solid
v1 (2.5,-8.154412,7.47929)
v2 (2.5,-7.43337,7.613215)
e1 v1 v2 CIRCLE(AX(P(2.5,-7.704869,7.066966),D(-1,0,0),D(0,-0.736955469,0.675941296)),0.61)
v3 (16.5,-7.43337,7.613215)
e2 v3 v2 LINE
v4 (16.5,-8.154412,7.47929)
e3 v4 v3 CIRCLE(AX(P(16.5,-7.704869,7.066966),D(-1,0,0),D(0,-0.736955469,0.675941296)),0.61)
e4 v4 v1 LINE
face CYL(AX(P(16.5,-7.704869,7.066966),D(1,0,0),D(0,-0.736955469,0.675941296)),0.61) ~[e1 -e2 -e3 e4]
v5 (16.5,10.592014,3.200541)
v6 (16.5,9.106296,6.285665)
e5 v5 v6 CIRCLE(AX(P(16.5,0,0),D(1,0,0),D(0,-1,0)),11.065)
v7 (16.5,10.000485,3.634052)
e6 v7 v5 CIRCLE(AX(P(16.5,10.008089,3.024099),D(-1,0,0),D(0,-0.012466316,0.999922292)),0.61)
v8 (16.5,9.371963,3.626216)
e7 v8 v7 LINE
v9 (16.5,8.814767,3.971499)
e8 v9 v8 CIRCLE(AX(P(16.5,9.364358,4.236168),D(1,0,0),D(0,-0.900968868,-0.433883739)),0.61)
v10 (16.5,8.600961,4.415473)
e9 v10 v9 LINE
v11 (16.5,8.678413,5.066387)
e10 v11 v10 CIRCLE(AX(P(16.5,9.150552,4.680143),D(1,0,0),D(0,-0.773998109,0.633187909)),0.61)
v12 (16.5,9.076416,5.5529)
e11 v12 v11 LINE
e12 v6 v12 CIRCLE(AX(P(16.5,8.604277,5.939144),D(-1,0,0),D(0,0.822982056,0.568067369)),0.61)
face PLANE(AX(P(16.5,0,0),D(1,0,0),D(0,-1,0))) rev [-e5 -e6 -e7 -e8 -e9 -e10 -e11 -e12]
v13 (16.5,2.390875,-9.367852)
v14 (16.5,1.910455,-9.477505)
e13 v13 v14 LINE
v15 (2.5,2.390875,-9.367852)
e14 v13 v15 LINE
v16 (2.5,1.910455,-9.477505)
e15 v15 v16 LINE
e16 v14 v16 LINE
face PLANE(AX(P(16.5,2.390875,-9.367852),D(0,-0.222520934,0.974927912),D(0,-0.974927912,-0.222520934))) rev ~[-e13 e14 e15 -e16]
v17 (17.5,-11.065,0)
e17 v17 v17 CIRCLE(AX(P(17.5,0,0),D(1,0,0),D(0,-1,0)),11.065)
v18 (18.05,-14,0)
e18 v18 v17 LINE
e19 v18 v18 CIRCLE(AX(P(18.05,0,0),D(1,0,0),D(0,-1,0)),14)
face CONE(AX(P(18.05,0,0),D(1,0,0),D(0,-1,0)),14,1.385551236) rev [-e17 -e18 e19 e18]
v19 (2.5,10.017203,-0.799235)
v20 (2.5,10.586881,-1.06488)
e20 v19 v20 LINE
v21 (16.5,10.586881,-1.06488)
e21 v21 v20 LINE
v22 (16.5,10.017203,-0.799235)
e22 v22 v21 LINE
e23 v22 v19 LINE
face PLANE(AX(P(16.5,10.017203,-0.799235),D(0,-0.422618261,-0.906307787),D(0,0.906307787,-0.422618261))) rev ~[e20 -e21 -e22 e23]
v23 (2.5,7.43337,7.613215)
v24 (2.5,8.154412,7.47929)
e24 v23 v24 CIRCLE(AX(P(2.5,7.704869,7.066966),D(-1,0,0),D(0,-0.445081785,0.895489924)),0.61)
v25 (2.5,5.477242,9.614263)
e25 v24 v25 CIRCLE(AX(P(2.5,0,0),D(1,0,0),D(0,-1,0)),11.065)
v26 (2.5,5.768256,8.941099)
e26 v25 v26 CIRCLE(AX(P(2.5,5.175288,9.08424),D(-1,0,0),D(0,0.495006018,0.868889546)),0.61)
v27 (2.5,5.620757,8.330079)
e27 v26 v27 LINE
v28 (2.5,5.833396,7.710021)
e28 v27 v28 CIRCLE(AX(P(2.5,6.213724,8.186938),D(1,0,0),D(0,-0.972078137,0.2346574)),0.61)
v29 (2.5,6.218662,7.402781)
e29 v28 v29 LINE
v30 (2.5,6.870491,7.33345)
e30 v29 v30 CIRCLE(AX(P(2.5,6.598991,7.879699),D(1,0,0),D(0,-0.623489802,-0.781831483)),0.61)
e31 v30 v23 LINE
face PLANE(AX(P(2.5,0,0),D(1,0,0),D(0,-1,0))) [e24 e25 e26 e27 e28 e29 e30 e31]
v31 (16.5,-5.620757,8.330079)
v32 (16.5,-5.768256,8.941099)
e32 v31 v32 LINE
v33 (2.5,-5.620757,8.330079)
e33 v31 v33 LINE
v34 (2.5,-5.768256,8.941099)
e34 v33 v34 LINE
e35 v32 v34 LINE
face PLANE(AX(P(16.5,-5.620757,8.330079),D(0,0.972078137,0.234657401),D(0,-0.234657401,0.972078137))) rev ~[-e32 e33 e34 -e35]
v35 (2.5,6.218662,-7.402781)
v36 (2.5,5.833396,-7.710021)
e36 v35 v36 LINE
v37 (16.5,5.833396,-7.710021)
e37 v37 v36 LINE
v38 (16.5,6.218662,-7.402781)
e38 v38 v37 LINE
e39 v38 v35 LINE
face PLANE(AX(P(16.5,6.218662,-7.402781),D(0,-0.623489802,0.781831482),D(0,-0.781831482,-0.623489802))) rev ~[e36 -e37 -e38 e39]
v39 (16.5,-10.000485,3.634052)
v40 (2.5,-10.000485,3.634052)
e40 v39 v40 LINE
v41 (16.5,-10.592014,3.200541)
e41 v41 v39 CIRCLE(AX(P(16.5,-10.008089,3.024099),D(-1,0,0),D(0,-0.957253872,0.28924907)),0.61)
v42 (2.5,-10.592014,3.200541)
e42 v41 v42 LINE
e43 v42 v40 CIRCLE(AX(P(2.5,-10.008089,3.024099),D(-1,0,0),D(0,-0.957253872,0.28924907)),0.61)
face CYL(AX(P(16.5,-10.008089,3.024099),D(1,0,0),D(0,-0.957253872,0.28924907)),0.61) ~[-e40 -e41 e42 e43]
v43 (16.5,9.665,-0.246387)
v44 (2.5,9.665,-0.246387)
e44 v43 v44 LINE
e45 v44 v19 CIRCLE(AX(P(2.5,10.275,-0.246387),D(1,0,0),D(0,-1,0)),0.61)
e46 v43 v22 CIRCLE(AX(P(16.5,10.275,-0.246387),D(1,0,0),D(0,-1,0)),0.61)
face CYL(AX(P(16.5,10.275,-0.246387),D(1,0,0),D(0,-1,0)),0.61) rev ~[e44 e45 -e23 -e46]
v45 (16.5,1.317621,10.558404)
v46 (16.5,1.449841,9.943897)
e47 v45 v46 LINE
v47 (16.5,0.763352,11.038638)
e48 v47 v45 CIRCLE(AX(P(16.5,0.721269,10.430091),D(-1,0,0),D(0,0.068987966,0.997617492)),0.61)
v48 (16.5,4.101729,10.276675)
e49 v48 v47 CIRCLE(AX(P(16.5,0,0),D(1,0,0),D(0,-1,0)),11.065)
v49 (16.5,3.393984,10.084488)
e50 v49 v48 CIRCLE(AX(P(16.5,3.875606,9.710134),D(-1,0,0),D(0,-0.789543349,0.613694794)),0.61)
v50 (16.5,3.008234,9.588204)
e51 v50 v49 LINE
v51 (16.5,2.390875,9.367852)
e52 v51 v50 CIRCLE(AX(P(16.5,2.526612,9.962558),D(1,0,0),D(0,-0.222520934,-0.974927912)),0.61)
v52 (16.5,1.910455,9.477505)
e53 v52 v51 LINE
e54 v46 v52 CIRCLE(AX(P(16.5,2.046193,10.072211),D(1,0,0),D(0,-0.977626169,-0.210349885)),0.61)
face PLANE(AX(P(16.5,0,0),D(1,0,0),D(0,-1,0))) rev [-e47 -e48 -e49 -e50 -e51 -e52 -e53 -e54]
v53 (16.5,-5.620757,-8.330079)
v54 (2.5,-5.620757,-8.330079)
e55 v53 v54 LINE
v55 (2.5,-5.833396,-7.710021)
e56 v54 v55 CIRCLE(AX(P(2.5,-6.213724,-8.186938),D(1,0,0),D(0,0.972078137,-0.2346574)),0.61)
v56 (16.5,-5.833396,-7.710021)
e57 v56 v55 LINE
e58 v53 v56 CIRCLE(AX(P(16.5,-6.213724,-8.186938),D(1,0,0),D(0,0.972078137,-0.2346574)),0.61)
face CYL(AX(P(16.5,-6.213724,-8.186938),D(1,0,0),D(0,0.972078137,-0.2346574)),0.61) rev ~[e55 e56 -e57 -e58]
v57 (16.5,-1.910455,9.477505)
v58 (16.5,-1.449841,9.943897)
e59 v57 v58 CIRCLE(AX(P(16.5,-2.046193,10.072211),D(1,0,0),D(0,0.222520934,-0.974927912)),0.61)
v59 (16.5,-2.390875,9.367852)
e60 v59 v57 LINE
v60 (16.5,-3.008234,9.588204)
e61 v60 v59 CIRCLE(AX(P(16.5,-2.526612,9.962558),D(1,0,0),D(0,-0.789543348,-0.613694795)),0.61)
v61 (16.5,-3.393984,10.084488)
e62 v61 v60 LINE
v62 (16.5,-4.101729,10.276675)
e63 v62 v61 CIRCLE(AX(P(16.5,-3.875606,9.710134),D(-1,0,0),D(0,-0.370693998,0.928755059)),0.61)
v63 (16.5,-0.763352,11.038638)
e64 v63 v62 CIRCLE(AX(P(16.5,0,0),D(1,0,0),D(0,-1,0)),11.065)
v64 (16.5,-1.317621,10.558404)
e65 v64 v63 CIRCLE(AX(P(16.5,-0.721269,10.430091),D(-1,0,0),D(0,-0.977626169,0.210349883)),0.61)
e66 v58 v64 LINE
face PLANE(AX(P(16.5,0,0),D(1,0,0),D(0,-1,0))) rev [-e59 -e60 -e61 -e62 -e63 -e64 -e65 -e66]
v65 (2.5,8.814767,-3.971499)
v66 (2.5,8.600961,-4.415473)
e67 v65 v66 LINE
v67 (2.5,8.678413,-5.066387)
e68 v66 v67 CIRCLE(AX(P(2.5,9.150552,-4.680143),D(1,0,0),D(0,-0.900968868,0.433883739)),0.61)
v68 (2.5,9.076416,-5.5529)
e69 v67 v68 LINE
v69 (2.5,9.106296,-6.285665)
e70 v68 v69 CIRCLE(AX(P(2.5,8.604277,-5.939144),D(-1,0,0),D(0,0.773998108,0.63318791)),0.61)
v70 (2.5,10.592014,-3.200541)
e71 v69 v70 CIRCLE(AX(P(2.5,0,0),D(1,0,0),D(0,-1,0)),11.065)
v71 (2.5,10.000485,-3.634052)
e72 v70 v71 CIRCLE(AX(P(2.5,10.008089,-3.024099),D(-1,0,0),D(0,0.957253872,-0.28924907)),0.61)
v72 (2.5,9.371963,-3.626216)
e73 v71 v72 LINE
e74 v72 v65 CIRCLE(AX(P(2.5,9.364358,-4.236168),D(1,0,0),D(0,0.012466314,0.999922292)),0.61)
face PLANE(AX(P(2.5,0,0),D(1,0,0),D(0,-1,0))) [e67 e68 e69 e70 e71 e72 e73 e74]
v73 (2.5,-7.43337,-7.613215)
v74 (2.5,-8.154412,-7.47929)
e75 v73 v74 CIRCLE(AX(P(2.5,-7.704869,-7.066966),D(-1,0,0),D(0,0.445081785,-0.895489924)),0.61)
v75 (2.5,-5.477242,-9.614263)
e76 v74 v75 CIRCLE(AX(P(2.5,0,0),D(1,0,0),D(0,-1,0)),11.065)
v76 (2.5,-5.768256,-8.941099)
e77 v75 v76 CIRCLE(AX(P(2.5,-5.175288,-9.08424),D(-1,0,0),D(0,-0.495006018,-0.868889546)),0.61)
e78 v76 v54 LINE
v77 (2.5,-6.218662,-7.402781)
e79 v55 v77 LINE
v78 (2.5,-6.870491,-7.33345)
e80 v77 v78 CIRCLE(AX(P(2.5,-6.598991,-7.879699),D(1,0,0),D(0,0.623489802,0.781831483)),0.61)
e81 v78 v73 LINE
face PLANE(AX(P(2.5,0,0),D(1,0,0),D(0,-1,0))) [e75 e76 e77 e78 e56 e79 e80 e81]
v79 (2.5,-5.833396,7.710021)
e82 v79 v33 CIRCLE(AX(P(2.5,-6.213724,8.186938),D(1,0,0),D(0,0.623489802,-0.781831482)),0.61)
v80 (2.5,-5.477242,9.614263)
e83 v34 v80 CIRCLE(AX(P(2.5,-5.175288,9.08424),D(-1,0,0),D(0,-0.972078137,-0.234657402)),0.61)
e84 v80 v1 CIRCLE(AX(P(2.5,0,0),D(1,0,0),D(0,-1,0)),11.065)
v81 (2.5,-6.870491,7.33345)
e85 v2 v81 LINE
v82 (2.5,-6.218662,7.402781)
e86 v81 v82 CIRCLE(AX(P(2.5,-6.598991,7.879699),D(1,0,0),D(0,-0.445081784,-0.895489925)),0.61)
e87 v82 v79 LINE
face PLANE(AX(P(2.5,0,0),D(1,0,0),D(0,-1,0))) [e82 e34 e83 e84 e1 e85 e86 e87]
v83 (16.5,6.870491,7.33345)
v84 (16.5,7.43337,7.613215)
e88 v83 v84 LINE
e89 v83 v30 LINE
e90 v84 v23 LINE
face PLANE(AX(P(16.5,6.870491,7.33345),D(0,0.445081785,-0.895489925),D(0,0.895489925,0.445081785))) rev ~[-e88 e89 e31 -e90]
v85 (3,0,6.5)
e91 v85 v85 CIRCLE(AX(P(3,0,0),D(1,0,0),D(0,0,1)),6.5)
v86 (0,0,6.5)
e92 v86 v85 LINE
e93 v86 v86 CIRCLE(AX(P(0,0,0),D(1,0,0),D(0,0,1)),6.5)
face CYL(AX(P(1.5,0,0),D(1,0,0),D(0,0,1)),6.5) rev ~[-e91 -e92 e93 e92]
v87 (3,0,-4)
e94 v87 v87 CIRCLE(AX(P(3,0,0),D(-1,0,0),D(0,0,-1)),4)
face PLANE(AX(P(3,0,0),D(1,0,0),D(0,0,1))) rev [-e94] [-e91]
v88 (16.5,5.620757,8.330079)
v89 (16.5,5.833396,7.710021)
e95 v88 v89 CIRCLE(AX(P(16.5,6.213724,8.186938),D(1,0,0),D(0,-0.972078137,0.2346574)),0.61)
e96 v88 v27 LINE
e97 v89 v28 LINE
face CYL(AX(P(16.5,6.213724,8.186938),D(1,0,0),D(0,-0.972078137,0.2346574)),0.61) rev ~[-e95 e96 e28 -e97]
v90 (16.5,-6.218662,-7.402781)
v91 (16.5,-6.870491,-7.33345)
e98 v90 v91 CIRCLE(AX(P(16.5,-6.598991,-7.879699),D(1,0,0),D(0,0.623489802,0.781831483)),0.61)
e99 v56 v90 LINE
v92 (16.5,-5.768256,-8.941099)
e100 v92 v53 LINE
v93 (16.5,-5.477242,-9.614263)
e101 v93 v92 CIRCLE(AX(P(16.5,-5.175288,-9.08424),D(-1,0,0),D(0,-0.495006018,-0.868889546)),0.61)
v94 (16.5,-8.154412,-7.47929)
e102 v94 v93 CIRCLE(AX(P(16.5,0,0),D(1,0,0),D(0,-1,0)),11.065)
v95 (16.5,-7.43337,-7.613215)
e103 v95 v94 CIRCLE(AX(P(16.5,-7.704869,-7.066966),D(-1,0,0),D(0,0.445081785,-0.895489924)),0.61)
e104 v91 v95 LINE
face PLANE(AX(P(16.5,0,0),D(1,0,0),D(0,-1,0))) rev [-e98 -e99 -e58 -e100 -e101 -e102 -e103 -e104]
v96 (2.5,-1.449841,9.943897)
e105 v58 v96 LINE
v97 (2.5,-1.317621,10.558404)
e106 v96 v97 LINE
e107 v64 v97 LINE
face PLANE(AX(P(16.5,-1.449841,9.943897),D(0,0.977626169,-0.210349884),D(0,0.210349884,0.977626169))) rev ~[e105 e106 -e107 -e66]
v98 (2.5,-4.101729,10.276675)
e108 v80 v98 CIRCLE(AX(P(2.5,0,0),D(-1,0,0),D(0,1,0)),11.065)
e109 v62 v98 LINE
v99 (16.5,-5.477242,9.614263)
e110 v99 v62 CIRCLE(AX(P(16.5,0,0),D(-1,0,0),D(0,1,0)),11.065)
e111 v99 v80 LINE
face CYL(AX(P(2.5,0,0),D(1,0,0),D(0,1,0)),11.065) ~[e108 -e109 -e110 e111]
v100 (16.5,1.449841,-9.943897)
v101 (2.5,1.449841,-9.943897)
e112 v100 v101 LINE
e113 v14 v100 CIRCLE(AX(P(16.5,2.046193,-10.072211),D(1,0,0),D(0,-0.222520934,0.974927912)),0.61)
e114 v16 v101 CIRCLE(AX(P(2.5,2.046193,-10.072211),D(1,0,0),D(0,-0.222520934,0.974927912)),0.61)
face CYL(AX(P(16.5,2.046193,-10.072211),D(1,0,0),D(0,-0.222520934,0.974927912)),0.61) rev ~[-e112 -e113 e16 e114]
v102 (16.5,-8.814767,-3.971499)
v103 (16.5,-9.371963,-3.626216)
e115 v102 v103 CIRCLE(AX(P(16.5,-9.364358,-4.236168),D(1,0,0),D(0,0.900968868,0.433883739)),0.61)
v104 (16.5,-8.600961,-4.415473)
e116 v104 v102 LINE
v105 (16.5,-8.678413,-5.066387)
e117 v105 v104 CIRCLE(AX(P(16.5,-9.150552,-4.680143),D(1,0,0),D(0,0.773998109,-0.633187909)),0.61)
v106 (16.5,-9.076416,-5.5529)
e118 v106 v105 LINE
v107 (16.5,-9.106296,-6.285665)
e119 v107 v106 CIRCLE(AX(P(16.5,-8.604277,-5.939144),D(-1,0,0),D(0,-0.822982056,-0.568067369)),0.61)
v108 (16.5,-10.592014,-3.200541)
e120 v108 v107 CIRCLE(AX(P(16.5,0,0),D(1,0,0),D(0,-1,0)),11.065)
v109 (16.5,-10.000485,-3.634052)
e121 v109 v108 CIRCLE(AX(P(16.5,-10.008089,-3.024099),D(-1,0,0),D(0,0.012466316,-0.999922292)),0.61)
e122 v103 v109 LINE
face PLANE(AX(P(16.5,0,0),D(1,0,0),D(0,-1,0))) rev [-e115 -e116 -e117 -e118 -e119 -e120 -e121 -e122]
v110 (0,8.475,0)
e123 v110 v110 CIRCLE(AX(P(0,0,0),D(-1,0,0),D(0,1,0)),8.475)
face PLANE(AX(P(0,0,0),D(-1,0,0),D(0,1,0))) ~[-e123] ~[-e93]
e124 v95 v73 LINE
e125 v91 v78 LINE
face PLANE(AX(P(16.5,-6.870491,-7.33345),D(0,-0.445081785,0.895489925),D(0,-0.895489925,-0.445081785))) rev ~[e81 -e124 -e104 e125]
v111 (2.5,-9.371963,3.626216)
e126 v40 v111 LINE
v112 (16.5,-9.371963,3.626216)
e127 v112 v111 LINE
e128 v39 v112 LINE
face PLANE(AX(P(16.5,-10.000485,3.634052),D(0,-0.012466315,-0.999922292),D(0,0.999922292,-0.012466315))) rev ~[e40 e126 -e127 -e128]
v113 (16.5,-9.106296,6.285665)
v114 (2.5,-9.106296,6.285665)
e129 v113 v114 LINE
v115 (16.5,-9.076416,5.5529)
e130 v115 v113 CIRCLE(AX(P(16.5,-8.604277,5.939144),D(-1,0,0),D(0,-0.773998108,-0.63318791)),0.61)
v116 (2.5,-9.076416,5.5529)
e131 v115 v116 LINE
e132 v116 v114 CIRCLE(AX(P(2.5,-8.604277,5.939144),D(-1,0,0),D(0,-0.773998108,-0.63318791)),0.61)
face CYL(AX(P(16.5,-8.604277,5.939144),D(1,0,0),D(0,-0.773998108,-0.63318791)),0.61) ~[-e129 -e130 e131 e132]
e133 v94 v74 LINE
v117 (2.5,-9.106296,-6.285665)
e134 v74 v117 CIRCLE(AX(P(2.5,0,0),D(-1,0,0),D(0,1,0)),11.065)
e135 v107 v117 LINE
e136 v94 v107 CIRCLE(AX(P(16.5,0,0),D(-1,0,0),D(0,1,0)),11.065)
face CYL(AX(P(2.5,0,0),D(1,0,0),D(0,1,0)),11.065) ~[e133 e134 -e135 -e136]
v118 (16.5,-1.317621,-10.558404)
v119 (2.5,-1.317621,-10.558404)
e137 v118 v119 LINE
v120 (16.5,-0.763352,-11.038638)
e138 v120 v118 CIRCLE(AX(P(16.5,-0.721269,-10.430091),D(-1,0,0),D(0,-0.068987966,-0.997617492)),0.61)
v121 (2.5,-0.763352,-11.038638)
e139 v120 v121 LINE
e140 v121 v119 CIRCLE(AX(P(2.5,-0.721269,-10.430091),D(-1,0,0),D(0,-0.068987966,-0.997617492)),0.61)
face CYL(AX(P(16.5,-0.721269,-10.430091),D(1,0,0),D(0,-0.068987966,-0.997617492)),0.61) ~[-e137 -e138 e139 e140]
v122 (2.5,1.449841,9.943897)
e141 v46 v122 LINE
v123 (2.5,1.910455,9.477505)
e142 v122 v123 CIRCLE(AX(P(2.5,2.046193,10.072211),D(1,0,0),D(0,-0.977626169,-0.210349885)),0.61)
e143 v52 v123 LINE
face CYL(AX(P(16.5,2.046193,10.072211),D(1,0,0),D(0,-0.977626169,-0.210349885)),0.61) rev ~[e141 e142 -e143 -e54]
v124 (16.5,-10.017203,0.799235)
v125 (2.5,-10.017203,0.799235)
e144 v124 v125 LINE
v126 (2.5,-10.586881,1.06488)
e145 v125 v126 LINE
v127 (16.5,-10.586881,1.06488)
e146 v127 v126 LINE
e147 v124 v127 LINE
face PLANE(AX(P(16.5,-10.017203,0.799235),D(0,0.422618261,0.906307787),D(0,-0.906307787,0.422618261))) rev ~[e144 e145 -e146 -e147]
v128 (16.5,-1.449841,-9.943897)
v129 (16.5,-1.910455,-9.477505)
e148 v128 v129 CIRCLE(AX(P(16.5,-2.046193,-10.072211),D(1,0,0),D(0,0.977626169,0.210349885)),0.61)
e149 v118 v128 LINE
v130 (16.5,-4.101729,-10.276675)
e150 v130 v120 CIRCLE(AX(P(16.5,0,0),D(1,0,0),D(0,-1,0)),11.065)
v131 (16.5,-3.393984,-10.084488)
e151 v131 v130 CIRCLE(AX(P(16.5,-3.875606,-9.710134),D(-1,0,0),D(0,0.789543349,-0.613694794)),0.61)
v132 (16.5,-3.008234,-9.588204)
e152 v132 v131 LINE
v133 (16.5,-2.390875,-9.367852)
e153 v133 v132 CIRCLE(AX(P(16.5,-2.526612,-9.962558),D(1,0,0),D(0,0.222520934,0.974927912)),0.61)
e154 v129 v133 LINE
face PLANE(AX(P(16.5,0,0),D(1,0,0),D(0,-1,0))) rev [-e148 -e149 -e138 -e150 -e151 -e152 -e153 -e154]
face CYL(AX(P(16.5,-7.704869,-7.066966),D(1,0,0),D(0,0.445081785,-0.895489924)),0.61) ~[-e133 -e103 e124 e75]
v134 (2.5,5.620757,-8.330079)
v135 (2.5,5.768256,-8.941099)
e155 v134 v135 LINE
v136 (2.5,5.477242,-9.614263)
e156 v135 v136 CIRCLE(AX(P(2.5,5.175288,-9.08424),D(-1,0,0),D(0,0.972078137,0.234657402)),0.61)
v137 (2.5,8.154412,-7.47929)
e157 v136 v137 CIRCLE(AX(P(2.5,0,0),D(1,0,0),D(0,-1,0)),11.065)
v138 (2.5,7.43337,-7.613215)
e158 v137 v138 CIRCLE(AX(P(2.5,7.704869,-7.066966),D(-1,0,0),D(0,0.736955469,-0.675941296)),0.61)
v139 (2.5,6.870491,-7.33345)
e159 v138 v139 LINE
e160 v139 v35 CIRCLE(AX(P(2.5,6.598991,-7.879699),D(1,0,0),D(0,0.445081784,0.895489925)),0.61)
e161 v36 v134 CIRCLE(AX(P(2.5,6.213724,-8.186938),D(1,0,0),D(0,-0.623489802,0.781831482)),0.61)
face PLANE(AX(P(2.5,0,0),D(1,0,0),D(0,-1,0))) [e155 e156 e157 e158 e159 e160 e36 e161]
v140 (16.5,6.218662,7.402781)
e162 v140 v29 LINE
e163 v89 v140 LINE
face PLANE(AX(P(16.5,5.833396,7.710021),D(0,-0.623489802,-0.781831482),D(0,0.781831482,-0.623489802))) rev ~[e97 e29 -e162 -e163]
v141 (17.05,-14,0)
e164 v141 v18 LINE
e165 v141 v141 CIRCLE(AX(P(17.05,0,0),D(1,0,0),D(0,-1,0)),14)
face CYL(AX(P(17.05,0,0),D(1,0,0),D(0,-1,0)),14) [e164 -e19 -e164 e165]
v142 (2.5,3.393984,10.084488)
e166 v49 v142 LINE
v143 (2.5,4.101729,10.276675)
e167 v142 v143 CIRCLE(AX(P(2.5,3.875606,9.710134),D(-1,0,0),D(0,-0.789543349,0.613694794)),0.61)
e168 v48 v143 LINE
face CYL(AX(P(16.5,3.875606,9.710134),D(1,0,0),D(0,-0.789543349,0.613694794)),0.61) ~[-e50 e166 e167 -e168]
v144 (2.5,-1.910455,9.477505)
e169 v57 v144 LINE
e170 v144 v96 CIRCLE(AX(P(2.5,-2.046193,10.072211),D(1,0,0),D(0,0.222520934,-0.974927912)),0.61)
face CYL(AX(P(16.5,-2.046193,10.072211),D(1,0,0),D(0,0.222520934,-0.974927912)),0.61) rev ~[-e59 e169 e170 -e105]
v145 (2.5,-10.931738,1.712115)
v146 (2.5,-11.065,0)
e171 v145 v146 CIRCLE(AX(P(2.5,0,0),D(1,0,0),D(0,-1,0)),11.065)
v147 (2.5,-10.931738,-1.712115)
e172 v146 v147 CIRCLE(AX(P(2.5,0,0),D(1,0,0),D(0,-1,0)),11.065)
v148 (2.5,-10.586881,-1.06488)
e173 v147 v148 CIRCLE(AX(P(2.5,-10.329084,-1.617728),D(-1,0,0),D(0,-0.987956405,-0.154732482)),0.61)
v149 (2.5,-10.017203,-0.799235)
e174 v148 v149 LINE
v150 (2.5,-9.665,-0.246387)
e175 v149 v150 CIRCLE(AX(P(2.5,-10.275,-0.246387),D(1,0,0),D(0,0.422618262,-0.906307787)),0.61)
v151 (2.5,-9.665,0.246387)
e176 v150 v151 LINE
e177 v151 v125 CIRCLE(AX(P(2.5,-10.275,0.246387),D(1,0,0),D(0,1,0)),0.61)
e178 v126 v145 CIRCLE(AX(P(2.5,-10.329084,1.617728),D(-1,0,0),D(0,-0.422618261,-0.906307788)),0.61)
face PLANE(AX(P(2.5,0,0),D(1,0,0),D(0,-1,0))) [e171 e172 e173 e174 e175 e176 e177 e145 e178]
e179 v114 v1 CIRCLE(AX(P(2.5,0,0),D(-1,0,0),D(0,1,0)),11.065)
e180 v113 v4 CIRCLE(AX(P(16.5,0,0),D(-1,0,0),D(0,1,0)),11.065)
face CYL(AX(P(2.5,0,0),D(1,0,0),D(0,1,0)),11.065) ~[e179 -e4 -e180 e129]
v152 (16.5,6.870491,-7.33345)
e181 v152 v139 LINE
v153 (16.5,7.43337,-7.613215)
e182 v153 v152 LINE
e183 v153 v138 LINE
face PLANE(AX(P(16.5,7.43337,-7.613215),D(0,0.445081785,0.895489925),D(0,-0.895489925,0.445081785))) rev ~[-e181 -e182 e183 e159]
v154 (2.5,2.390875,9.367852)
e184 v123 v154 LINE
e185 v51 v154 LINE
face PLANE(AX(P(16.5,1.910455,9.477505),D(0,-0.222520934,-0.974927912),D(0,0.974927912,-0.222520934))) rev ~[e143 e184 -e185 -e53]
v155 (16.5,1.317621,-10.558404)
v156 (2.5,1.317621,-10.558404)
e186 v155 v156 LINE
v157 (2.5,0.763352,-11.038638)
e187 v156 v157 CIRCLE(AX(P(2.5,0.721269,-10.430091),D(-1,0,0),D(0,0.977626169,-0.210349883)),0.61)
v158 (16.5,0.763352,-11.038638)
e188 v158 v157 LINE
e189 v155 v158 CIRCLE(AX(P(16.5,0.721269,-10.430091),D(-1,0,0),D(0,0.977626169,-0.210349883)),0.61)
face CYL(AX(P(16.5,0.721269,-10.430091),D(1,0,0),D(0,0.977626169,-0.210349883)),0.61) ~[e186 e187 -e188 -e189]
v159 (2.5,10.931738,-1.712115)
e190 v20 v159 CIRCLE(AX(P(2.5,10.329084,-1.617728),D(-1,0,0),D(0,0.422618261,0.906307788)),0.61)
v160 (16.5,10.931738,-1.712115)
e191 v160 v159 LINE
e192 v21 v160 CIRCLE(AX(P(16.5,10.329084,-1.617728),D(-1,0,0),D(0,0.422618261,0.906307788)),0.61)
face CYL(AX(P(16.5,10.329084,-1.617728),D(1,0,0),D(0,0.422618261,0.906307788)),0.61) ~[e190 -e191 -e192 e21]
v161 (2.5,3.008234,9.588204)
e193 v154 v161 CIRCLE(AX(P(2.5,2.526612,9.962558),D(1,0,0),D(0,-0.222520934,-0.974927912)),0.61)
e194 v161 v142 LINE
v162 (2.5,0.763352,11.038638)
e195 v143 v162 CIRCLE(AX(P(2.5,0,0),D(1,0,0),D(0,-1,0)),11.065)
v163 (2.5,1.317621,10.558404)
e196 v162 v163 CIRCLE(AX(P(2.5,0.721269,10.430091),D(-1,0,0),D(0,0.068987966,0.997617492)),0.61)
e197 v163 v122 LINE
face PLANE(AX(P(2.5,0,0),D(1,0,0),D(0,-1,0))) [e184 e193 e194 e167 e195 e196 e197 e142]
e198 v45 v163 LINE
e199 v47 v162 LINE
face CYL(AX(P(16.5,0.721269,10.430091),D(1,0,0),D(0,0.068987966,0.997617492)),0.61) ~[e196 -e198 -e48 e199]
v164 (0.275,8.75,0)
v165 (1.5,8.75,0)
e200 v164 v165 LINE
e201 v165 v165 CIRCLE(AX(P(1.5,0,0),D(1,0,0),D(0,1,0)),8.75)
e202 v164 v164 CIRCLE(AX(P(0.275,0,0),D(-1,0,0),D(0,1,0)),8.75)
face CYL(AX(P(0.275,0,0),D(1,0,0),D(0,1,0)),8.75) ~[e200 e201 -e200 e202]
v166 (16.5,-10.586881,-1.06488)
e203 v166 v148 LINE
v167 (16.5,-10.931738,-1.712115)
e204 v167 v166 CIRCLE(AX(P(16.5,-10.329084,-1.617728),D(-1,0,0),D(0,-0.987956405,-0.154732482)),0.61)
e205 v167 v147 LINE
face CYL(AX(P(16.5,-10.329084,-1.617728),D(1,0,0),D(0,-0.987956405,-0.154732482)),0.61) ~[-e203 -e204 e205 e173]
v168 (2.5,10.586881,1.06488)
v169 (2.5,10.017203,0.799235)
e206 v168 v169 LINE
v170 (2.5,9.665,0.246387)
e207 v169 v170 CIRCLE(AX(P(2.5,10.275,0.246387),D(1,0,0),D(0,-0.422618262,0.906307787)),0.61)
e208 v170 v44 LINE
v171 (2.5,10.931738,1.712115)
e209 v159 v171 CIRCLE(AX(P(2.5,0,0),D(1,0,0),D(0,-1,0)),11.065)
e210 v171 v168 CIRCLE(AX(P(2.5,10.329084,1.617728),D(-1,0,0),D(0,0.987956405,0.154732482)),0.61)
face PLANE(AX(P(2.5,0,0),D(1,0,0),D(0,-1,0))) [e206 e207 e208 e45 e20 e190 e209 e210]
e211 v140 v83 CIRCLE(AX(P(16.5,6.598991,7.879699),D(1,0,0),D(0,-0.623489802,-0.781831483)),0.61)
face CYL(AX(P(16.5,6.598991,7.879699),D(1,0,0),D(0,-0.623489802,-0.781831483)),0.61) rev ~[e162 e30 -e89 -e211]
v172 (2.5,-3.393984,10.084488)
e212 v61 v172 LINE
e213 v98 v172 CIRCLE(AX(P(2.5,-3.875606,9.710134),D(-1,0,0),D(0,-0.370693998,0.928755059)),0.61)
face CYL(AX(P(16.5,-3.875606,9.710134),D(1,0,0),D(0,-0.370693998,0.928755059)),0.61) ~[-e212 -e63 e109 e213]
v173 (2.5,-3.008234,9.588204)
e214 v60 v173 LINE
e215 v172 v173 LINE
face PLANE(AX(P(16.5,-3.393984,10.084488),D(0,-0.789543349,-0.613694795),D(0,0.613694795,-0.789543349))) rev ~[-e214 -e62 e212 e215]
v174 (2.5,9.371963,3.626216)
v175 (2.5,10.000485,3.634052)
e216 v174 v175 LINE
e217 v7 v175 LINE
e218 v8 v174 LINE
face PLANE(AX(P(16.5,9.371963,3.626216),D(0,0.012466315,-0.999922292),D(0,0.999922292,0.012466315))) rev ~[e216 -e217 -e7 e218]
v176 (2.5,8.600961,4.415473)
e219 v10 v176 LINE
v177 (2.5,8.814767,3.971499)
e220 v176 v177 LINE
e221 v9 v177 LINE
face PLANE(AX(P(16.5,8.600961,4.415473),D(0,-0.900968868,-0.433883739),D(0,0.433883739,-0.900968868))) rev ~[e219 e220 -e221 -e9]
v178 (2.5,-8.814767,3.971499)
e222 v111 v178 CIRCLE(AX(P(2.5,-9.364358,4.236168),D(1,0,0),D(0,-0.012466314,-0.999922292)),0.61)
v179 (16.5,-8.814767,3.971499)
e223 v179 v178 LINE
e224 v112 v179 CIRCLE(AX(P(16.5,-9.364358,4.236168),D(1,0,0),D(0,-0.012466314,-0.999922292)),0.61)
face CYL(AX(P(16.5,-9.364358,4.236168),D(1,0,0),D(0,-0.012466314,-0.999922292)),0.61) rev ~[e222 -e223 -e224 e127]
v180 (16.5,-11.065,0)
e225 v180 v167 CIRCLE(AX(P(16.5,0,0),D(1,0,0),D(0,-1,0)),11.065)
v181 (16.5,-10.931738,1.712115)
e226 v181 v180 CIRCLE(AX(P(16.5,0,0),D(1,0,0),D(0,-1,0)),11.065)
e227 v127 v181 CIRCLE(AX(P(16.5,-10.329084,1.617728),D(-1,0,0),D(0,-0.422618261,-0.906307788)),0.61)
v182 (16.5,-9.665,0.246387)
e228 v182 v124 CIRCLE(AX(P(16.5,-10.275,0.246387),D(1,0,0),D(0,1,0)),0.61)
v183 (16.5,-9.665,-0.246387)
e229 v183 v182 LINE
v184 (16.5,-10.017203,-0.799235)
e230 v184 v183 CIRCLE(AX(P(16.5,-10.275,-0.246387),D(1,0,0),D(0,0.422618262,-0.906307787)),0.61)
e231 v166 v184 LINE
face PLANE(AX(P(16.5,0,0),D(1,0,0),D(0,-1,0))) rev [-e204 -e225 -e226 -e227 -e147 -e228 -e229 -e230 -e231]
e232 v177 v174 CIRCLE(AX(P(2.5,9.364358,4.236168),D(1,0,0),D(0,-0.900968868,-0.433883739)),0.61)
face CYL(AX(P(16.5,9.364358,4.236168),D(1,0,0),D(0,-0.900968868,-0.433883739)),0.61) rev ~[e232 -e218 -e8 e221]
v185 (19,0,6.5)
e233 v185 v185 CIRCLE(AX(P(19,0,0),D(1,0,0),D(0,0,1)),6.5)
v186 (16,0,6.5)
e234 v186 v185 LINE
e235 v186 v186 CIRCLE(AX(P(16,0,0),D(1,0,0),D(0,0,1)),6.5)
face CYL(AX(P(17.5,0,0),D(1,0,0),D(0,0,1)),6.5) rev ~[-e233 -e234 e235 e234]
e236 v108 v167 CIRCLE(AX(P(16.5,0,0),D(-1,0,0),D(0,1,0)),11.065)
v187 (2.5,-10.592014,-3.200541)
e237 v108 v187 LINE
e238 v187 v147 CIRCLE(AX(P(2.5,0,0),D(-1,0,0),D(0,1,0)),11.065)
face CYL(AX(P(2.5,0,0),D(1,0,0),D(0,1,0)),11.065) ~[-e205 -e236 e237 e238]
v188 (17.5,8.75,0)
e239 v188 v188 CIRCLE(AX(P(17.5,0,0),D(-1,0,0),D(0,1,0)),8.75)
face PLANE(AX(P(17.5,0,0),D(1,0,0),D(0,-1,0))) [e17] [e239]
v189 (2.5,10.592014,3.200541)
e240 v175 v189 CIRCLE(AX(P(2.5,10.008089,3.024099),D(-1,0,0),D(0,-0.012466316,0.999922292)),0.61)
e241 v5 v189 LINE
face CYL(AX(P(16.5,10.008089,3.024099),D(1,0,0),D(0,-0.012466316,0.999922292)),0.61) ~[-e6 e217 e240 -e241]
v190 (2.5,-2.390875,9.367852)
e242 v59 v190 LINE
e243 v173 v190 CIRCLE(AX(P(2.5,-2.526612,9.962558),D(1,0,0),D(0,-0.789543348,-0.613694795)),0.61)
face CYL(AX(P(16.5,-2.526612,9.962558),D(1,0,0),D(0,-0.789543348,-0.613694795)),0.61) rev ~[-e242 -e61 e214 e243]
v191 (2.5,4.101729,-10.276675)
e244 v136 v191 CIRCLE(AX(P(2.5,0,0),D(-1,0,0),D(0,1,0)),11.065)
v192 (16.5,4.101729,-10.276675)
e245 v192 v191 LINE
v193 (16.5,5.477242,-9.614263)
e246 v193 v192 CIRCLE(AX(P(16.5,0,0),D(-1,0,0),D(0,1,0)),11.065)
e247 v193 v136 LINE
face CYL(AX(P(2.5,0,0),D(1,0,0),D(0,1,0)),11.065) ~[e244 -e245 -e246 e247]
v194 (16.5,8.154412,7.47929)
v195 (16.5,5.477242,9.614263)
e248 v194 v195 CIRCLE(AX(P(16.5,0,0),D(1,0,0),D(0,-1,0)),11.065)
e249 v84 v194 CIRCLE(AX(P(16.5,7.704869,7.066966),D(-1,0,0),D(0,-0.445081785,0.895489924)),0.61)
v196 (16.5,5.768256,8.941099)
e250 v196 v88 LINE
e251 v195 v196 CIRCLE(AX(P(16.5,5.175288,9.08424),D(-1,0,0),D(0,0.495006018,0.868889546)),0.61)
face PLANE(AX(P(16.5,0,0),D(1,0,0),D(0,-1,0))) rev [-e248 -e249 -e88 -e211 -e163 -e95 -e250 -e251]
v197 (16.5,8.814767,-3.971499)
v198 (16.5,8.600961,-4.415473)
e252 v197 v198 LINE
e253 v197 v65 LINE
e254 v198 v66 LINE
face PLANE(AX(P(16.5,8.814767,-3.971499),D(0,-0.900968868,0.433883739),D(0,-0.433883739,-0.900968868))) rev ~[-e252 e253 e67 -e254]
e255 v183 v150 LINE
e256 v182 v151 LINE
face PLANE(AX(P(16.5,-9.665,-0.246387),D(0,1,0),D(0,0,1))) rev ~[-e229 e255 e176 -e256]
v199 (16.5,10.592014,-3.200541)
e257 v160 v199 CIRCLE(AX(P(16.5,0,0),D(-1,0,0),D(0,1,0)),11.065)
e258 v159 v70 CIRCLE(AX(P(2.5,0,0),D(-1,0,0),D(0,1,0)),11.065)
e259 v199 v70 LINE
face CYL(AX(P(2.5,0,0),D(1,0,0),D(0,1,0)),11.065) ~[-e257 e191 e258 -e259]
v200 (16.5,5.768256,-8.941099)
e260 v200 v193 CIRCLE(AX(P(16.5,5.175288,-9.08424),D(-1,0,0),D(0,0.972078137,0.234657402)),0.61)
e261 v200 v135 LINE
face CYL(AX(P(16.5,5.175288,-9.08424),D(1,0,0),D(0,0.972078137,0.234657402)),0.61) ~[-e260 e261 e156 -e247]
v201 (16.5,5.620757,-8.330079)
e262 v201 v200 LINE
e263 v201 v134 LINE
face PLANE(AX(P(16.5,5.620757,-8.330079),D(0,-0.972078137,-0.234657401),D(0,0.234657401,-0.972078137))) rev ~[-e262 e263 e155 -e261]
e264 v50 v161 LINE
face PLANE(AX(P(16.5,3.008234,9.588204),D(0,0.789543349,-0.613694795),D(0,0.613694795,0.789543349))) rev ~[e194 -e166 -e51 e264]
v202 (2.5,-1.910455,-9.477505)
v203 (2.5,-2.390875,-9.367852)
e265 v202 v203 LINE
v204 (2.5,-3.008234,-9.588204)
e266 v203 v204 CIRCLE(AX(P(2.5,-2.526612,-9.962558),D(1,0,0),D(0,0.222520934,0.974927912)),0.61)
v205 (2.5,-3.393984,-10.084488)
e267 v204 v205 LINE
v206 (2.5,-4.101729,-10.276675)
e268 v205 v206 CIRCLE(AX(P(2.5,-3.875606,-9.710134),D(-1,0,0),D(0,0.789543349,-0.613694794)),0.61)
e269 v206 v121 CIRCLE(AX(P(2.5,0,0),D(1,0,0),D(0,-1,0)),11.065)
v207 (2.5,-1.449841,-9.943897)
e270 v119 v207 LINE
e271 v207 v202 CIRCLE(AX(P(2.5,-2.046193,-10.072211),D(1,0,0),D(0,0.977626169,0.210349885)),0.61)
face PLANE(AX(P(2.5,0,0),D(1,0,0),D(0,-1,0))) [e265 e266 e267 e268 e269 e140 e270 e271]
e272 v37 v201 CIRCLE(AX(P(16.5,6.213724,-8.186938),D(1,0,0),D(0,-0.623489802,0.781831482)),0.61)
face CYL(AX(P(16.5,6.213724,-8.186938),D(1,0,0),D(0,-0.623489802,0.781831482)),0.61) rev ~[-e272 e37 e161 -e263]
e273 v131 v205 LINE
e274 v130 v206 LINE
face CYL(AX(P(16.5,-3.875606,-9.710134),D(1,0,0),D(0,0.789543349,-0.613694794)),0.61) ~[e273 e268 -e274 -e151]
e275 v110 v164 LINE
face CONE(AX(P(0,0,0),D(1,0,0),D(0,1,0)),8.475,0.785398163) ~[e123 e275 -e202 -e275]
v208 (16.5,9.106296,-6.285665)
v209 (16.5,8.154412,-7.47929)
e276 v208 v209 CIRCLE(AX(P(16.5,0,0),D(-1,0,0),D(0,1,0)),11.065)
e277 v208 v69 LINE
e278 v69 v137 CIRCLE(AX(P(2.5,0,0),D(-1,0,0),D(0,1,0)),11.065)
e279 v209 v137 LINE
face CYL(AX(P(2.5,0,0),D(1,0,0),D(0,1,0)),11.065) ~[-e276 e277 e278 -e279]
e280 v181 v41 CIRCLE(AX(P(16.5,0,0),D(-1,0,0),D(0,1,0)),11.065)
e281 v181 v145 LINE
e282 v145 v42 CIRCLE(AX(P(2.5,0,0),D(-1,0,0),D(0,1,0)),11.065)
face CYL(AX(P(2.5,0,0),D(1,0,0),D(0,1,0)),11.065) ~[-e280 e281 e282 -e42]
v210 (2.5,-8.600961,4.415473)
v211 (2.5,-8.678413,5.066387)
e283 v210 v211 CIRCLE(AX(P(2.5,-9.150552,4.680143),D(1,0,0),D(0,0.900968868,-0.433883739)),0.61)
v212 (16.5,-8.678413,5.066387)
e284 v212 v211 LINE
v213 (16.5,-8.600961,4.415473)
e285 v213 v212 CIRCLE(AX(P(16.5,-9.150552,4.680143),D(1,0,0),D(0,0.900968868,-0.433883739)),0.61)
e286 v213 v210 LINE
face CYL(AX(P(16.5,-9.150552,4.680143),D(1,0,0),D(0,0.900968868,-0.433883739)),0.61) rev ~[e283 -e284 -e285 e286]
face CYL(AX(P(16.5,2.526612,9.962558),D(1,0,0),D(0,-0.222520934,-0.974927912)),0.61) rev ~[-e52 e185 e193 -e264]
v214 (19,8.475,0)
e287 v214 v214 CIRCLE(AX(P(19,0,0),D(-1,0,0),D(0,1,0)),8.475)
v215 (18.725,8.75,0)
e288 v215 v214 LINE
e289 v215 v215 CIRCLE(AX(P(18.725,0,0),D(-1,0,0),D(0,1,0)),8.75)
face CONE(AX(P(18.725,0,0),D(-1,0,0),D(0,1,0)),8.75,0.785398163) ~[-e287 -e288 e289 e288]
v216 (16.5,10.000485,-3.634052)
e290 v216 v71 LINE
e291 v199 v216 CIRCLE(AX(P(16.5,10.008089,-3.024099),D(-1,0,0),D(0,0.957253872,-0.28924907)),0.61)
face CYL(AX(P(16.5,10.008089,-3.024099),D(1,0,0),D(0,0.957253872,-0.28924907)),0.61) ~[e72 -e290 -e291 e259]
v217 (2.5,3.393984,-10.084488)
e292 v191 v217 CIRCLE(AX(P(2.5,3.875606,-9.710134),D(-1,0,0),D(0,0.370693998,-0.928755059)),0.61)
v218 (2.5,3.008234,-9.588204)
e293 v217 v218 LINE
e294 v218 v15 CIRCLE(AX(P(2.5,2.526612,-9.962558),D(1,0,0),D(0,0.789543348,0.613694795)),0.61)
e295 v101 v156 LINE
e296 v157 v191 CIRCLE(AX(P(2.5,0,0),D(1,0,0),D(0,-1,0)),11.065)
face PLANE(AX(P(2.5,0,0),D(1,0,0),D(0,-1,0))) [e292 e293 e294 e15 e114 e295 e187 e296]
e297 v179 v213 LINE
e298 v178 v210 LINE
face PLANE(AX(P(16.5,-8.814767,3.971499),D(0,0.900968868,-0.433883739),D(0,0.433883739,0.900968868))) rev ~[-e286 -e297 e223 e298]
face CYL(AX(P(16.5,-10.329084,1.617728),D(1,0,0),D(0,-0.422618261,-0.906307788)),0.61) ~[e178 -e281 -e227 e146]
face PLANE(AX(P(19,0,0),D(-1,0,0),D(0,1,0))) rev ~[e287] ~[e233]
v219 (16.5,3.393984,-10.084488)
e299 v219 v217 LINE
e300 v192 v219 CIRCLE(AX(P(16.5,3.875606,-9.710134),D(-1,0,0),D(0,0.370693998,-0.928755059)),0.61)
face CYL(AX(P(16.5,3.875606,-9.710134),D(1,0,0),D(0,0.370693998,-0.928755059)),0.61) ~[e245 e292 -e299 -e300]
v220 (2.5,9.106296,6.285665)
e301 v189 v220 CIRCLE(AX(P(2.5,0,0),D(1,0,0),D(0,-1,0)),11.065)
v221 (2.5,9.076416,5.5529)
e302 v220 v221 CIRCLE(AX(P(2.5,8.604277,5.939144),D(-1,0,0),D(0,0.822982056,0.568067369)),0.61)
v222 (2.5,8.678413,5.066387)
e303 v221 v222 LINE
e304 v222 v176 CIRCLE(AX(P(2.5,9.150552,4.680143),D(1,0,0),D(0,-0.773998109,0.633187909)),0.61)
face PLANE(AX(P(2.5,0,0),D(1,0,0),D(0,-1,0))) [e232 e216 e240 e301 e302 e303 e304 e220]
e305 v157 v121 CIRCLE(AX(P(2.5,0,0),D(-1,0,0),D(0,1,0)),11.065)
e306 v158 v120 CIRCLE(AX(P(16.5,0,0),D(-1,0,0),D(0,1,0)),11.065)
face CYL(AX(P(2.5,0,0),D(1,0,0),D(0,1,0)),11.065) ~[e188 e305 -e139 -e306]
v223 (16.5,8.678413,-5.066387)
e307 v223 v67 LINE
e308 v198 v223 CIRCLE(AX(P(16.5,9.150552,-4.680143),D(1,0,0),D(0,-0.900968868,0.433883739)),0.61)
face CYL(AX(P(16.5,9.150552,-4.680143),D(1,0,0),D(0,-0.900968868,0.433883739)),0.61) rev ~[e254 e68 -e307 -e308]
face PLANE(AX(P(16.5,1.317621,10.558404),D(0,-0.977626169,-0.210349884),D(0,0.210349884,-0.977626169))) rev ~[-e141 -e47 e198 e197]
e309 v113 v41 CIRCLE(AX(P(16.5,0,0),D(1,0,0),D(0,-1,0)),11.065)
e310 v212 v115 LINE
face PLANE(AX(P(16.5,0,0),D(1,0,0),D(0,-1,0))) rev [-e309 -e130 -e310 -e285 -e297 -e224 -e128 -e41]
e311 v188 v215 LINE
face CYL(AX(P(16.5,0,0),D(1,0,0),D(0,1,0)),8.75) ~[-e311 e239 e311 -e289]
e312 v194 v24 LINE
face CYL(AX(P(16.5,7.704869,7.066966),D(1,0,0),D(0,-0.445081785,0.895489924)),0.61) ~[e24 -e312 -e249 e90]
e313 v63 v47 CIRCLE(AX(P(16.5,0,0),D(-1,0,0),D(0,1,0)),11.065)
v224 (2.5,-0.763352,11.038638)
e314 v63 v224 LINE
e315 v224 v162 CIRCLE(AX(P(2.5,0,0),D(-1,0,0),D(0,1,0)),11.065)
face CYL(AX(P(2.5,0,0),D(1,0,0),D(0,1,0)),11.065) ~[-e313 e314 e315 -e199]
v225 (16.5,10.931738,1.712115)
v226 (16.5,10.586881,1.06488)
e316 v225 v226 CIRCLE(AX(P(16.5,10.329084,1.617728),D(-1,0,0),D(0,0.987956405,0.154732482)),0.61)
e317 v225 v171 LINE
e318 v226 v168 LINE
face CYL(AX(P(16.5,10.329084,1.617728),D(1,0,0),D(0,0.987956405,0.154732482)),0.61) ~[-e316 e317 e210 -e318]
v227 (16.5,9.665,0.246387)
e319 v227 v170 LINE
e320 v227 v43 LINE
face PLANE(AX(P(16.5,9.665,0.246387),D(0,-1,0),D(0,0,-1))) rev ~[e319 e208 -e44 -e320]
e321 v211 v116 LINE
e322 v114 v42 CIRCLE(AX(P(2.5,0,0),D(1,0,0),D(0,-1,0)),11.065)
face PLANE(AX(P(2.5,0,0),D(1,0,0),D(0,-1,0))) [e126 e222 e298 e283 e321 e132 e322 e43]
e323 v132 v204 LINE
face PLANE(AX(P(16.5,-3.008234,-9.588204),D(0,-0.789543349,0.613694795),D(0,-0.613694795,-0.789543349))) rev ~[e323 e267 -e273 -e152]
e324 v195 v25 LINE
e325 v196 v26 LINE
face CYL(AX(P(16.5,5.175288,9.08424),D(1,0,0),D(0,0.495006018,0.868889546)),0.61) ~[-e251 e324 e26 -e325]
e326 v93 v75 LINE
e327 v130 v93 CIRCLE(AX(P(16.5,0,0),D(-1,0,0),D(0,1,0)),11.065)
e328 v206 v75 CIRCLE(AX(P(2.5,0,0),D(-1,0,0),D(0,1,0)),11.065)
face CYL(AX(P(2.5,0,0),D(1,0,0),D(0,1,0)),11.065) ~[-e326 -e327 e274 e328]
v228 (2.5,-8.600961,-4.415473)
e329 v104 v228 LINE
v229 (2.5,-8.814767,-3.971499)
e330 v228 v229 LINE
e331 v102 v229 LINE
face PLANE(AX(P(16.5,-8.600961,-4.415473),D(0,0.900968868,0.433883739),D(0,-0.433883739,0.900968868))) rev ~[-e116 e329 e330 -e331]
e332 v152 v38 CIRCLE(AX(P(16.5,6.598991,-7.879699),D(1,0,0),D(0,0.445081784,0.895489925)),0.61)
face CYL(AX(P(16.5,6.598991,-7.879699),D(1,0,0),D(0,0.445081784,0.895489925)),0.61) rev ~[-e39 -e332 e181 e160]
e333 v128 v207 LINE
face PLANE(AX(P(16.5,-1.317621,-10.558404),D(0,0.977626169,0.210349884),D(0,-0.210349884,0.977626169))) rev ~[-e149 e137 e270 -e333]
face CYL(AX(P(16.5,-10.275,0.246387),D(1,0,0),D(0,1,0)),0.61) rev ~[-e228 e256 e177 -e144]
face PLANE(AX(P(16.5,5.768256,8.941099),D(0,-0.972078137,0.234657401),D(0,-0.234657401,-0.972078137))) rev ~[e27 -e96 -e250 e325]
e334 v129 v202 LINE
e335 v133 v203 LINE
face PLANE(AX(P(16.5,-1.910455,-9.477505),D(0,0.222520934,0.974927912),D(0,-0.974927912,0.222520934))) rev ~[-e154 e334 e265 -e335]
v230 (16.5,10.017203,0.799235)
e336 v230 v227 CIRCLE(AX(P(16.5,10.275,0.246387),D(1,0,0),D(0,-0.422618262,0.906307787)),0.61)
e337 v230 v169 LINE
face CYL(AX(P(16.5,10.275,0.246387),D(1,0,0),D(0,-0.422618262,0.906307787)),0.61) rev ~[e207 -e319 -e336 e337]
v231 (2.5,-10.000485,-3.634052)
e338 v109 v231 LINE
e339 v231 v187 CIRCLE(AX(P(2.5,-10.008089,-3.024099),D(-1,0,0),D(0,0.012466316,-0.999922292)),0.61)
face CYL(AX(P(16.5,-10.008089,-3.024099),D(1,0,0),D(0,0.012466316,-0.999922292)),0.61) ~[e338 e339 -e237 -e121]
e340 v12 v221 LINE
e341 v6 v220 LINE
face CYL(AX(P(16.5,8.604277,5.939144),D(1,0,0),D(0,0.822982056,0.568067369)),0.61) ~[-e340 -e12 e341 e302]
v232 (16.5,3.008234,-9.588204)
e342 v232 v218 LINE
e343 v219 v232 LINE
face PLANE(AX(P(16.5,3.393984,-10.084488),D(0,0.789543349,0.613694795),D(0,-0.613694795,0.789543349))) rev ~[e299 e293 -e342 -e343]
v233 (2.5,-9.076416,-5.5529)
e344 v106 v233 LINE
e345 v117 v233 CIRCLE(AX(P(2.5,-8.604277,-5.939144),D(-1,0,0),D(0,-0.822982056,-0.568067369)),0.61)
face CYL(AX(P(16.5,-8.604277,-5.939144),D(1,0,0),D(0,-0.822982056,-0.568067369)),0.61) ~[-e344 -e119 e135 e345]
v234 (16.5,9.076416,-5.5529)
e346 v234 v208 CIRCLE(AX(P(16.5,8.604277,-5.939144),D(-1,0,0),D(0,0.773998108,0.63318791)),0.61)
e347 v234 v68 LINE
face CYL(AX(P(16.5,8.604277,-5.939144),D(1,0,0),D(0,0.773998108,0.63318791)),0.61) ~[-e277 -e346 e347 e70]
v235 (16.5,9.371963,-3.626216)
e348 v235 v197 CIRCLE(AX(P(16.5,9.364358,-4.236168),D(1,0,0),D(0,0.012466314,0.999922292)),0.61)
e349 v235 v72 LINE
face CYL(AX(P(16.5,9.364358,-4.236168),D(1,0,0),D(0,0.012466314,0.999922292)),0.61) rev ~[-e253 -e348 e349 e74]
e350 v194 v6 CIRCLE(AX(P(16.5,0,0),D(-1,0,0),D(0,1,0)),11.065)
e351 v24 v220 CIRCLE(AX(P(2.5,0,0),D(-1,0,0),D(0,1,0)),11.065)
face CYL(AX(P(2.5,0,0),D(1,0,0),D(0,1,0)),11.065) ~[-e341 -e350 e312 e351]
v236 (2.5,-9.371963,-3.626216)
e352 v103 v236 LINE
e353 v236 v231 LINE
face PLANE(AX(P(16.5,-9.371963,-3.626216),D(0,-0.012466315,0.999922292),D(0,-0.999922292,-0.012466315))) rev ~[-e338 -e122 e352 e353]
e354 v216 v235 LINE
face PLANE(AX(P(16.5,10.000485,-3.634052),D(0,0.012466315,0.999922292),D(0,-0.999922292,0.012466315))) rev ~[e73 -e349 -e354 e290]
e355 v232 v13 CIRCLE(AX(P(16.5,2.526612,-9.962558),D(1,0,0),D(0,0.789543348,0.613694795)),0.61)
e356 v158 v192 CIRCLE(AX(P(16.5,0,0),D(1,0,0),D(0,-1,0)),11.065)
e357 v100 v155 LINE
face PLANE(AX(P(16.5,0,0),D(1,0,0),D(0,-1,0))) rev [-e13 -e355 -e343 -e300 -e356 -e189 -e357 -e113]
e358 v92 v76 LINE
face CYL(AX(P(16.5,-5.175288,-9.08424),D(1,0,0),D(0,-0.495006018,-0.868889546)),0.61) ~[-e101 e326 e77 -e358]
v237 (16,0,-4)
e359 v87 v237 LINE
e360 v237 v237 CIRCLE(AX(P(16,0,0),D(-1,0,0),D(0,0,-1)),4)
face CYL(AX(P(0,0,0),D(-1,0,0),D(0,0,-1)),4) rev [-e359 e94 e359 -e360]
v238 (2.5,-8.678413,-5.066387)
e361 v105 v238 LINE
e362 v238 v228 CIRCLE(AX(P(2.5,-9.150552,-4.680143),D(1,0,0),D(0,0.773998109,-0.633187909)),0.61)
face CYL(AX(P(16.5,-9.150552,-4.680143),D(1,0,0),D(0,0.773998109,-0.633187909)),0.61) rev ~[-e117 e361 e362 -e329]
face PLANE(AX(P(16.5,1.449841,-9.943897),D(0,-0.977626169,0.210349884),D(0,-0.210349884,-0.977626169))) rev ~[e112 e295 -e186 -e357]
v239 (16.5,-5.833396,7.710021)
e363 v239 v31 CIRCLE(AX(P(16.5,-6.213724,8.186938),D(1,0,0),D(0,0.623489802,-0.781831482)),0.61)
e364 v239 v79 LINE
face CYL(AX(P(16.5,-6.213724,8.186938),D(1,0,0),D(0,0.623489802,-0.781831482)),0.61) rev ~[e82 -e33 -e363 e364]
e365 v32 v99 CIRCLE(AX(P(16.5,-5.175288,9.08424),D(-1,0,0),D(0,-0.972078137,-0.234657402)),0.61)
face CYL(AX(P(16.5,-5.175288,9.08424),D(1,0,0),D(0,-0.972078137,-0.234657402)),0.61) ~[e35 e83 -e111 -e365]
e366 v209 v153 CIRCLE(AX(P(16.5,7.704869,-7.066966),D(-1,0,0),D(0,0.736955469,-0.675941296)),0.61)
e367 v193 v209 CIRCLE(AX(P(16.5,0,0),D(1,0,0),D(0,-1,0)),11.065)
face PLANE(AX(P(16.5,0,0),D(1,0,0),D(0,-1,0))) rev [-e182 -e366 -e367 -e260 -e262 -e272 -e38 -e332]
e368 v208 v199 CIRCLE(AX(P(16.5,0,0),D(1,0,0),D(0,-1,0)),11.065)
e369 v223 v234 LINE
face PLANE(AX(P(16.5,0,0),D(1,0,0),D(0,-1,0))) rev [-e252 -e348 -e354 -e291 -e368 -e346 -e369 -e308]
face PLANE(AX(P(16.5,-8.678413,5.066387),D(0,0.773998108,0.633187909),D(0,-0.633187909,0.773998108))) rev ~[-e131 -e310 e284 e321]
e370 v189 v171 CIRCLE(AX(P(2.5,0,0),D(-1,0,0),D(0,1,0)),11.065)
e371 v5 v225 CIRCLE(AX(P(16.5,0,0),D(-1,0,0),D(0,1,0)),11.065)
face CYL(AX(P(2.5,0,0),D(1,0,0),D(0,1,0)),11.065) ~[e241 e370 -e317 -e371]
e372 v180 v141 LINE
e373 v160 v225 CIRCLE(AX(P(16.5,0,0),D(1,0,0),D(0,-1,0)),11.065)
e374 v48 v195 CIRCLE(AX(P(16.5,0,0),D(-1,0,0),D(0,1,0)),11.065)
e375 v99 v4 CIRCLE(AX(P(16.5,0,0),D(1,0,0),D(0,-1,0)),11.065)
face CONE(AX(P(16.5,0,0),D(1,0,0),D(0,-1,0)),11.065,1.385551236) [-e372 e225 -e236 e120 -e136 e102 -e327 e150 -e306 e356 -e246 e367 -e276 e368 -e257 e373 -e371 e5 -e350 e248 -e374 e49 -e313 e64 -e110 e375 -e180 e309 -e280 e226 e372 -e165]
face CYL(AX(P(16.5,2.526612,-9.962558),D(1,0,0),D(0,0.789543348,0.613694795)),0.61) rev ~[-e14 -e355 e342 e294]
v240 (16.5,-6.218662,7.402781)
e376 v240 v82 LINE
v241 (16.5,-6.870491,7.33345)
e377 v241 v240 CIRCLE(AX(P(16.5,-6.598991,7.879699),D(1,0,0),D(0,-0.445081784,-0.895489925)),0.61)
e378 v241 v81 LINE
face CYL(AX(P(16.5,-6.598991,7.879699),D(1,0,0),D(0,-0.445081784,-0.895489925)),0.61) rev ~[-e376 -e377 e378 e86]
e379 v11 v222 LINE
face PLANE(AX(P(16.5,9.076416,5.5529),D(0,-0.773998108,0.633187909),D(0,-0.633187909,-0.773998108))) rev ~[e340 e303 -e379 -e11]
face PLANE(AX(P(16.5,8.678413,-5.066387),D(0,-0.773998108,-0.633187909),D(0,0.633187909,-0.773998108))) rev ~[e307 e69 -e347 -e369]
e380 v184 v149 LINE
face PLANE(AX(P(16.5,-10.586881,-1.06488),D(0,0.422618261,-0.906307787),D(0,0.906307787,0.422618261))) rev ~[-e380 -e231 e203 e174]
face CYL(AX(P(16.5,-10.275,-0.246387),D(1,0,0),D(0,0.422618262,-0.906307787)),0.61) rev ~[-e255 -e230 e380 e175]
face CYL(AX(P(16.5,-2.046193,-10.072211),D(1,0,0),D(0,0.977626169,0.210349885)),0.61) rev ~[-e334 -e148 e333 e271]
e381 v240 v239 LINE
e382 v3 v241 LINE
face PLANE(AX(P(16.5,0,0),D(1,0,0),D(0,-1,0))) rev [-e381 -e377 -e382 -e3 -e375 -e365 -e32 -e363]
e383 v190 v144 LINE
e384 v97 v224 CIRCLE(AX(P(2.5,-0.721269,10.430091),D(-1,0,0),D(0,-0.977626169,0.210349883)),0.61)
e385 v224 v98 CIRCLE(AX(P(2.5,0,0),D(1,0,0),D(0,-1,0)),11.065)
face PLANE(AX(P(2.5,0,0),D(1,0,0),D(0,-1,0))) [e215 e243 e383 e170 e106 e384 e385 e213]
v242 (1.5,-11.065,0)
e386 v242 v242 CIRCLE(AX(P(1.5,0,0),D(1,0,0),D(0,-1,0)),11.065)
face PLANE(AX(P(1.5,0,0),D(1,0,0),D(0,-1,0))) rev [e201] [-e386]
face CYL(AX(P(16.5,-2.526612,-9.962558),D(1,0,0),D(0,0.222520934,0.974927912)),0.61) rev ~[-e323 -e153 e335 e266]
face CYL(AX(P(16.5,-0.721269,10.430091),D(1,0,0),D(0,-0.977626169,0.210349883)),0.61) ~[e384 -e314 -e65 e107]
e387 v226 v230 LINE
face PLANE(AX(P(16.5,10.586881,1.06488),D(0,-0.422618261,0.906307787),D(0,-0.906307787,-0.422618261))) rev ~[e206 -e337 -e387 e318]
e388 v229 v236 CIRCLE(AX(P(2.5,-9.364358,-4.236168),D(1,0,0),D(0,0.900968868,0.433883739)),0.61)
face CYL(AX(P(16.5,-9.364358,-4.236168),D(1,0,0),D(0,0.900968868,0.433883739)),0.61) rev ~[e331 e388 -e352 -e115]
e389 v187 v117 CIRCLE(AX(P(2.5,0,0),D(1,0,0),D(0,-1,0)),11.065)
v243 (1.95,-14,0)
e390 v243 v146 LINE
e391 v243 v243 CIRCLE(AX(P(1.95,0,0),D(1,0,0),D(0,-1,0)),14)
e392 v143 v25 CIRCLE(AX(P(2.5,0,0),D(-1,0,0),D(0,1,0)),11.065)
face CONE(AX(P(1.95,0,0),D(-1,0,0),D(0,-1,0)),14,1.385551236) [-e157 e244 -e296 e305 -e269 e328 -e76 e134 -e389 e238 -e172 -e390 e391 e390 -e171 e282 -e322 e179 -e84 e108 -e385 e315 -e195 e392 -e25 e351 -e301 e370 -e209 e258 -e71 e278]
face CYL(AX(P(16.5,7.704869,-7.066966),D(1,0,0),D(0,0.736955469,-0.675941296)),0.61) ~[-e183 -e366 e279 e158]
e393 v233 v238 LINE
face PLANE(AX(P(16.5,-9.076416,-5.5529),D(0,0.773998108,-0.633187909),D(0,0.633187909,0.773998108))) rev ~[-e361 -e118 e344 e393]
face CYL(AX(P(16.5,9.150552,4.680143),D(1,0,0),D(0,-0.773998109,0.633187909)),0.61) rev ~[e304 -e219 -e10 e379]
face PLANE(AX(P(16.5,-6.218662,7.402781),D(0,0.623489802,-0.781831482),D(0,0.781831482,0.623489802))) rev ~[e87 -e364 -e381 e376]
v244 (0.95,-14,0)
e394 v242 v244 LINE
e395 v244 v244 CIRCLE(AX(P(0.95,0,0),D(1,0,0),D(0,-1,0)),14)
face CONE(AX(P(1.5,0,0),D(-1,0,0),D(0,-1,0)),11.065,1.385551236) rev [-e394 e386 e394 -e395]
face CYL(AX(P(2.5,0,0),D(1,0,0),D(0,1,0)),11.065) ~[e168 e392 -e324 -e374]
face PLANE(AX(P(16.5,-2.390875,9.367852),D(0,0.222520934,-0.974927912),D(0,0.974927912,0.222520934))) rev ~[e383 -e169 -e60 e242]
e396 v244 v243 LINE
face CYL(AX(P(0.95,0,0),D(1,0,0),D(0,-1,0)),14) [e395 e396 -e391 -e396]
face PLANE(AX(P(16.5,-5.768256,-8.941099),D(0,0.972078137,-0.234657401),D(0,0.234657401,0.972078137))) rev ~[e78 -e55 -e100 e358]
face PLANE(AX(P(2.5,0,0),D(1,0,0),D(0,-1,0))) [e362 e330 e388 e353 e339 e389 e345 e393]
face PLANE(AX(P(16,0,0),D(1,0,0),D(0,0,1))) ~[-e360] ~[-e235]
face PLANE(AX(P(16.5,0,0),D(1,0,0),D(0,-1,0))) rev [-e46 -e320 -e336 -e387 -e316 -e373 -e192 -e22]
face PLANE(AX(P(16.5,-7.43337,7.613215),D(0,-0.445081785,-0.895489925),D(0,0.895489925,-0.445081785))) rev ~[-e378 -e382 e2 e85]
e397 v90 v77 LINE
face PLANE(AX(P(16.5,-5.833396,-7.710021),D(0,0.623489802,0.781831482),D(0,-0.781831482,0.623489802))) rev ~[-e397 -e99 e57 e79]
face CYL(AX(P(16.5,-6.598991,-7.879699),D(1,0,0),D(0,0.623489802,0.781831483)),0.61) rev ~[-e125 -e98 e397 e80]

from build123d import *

# Parameters (mm, degrees)
CUT_EXTRUDE_START        = 16.5
CUT_EXTRUDE_1_DEPTH      = 14
PATTERN_CIRCULAR_1_COUNT = 14
SKETCH_6_R               = 4
CUT_EXTRUDE_2_DEPTH      = 28.440845468
CHAMFER_1_SIZE           = 0.18
SKETCH_10_W              = 3
SKETCH_10_H              = 6.5


with BuildPart() as part:
    # 草图3 → 旋转1 (revolve)
    with BuildSketch(Plane.XY):
        Polygon((0, 0), (0, 8.475), (0.275, 8.75), (2.5, 8.75), (2.5, 11.065), (16.5, 11.065), (16.5, 8.75), (18.725, 8.75), (19, 8.475), (19, 0), align=None)
    revolve(axis=Axis((19, 0, 0), (-1, 0, 0)))

    # 草图4 → Cut-Extrude 1 (cut)
    with BuildSketch(Plane(origin=(0, 0, 0), x_dir=(0, 0, -1), z_dir=(1, 0, 0)).offset(CUT_EXTRUDE_START)):
        with BuildLine():
            Line((-0.246387141, 9.665), (0.246387141, 9.665))
            ThreePointArc((0.246387141, 9.665), (0.574139902, 9.760531218), (0.799234891, 10.01720286))
            Line((0.799234891, 10.01720286), (1.064880338, 10.58688136))
            ThreePointArc((1.064880338, 10.58688136), (1.330886548, 10.867435343), (1.712114902, 10.931737628))
            ThreePointArc((1.712114902, 10.931737628), (0, 11.065), (-1.712114902, 10.931737628))
            ThreePointArc((-1.712114902, 10.931737628), (-1.330886548, 10.867435343), (-1.064880338, 10.58688136))
            Line((-1.064880338, 10.58688136), (-0.799234891, 10.01720286))
            ThreePointArc((-0.799234891, 10.01720286), (-0.574139902, 9.760531218), (-0.246387141, 9.665))
        make_face()
    cut_extrude_1 = extrude(amount=-CUT_EXTRUDE_1_DEPTH, mode=Mode.SUBTRACT)

    # 阵列(圆周)1: Cut-Extrude 1 ×14 about axis
    pattern_circular_1_axis = Axis((0, 0, 0), (1, 0, 0))
    for i in range(1, PATTERN_CIRCULAR_1_COUNT):
        add(cut_extrude_1.rotate(pattern_circular_1_axis, i * 360 / PATTERN_CIRCULAR_1_COUNT), mode=Mode.SUBTRACT)

    # 草图5 → 旋转2 (revolve)
    with BuildSketch(Plane.XY, mode=Mode.PRIVATE) as revolve_2_sk:
        Polygon((1.95, 14), (2.5, 11.065), (2.5, 8.75), (1.5, 8.75), (1.5, 11.065), (0.95, 14), align=None)
        Polygon((17.5, 8.75), (16.5, 8.75), (16.5, 11.065), (17.05, 14), (18.05, 14), (17.5, 11.065), align=None)
    revolve(revolve_2_sk.sketch.rotate(Axis((0, 0, 0), (1, 0, 0)), 180), axis=Axis((0, 0, 0), (1, 0, 0)))

    # 草图6 → 切除-拉伸2 (cut, through all)
    with BuildSketch(Plane(origin=(0, 0, 0), x_dir=(0, 0, -1), z_dir=(1, 0, 0))):
        Circle(SKETCH_6_R)
    extrude(amount=CUT_EXTRUDE_2_DEPTH, mode=Mode.SUBTRACT)

    # 倒角1
    chamfer_1_edges = [part.edges().sort_by_distance(p)[0] for p in [
        (0, 0, 4),
        (19, 0, 4),
    ]]
    chamfer(chamfer_1_edges, length=CHAMFER_1_SIZE)

    # 草图10 → Cut-Revolve 8317 (revolve, cut)
    with BuildSketch(Plane.XY, mode=Mode.PRIVATE) as cut_revolve_8317_sk:
        with Locations((17.5, 3.25)):
            Rectangle(SKETCH_10_W, SKETCH_10_H)
        with Locations((1.5, 3.25)):
            Rectangle(SKETCH_10_W, SKETCH_10_H)
    revolve(cut_revolve_8317_sk.sketch.rotate(Axis((0, 0, 0), (1, 0, 0)), 90), axis=Axis((0, 0, 0), (1, 0, 0)), mode=Mode.SUBTRACT)


solid = part.part
